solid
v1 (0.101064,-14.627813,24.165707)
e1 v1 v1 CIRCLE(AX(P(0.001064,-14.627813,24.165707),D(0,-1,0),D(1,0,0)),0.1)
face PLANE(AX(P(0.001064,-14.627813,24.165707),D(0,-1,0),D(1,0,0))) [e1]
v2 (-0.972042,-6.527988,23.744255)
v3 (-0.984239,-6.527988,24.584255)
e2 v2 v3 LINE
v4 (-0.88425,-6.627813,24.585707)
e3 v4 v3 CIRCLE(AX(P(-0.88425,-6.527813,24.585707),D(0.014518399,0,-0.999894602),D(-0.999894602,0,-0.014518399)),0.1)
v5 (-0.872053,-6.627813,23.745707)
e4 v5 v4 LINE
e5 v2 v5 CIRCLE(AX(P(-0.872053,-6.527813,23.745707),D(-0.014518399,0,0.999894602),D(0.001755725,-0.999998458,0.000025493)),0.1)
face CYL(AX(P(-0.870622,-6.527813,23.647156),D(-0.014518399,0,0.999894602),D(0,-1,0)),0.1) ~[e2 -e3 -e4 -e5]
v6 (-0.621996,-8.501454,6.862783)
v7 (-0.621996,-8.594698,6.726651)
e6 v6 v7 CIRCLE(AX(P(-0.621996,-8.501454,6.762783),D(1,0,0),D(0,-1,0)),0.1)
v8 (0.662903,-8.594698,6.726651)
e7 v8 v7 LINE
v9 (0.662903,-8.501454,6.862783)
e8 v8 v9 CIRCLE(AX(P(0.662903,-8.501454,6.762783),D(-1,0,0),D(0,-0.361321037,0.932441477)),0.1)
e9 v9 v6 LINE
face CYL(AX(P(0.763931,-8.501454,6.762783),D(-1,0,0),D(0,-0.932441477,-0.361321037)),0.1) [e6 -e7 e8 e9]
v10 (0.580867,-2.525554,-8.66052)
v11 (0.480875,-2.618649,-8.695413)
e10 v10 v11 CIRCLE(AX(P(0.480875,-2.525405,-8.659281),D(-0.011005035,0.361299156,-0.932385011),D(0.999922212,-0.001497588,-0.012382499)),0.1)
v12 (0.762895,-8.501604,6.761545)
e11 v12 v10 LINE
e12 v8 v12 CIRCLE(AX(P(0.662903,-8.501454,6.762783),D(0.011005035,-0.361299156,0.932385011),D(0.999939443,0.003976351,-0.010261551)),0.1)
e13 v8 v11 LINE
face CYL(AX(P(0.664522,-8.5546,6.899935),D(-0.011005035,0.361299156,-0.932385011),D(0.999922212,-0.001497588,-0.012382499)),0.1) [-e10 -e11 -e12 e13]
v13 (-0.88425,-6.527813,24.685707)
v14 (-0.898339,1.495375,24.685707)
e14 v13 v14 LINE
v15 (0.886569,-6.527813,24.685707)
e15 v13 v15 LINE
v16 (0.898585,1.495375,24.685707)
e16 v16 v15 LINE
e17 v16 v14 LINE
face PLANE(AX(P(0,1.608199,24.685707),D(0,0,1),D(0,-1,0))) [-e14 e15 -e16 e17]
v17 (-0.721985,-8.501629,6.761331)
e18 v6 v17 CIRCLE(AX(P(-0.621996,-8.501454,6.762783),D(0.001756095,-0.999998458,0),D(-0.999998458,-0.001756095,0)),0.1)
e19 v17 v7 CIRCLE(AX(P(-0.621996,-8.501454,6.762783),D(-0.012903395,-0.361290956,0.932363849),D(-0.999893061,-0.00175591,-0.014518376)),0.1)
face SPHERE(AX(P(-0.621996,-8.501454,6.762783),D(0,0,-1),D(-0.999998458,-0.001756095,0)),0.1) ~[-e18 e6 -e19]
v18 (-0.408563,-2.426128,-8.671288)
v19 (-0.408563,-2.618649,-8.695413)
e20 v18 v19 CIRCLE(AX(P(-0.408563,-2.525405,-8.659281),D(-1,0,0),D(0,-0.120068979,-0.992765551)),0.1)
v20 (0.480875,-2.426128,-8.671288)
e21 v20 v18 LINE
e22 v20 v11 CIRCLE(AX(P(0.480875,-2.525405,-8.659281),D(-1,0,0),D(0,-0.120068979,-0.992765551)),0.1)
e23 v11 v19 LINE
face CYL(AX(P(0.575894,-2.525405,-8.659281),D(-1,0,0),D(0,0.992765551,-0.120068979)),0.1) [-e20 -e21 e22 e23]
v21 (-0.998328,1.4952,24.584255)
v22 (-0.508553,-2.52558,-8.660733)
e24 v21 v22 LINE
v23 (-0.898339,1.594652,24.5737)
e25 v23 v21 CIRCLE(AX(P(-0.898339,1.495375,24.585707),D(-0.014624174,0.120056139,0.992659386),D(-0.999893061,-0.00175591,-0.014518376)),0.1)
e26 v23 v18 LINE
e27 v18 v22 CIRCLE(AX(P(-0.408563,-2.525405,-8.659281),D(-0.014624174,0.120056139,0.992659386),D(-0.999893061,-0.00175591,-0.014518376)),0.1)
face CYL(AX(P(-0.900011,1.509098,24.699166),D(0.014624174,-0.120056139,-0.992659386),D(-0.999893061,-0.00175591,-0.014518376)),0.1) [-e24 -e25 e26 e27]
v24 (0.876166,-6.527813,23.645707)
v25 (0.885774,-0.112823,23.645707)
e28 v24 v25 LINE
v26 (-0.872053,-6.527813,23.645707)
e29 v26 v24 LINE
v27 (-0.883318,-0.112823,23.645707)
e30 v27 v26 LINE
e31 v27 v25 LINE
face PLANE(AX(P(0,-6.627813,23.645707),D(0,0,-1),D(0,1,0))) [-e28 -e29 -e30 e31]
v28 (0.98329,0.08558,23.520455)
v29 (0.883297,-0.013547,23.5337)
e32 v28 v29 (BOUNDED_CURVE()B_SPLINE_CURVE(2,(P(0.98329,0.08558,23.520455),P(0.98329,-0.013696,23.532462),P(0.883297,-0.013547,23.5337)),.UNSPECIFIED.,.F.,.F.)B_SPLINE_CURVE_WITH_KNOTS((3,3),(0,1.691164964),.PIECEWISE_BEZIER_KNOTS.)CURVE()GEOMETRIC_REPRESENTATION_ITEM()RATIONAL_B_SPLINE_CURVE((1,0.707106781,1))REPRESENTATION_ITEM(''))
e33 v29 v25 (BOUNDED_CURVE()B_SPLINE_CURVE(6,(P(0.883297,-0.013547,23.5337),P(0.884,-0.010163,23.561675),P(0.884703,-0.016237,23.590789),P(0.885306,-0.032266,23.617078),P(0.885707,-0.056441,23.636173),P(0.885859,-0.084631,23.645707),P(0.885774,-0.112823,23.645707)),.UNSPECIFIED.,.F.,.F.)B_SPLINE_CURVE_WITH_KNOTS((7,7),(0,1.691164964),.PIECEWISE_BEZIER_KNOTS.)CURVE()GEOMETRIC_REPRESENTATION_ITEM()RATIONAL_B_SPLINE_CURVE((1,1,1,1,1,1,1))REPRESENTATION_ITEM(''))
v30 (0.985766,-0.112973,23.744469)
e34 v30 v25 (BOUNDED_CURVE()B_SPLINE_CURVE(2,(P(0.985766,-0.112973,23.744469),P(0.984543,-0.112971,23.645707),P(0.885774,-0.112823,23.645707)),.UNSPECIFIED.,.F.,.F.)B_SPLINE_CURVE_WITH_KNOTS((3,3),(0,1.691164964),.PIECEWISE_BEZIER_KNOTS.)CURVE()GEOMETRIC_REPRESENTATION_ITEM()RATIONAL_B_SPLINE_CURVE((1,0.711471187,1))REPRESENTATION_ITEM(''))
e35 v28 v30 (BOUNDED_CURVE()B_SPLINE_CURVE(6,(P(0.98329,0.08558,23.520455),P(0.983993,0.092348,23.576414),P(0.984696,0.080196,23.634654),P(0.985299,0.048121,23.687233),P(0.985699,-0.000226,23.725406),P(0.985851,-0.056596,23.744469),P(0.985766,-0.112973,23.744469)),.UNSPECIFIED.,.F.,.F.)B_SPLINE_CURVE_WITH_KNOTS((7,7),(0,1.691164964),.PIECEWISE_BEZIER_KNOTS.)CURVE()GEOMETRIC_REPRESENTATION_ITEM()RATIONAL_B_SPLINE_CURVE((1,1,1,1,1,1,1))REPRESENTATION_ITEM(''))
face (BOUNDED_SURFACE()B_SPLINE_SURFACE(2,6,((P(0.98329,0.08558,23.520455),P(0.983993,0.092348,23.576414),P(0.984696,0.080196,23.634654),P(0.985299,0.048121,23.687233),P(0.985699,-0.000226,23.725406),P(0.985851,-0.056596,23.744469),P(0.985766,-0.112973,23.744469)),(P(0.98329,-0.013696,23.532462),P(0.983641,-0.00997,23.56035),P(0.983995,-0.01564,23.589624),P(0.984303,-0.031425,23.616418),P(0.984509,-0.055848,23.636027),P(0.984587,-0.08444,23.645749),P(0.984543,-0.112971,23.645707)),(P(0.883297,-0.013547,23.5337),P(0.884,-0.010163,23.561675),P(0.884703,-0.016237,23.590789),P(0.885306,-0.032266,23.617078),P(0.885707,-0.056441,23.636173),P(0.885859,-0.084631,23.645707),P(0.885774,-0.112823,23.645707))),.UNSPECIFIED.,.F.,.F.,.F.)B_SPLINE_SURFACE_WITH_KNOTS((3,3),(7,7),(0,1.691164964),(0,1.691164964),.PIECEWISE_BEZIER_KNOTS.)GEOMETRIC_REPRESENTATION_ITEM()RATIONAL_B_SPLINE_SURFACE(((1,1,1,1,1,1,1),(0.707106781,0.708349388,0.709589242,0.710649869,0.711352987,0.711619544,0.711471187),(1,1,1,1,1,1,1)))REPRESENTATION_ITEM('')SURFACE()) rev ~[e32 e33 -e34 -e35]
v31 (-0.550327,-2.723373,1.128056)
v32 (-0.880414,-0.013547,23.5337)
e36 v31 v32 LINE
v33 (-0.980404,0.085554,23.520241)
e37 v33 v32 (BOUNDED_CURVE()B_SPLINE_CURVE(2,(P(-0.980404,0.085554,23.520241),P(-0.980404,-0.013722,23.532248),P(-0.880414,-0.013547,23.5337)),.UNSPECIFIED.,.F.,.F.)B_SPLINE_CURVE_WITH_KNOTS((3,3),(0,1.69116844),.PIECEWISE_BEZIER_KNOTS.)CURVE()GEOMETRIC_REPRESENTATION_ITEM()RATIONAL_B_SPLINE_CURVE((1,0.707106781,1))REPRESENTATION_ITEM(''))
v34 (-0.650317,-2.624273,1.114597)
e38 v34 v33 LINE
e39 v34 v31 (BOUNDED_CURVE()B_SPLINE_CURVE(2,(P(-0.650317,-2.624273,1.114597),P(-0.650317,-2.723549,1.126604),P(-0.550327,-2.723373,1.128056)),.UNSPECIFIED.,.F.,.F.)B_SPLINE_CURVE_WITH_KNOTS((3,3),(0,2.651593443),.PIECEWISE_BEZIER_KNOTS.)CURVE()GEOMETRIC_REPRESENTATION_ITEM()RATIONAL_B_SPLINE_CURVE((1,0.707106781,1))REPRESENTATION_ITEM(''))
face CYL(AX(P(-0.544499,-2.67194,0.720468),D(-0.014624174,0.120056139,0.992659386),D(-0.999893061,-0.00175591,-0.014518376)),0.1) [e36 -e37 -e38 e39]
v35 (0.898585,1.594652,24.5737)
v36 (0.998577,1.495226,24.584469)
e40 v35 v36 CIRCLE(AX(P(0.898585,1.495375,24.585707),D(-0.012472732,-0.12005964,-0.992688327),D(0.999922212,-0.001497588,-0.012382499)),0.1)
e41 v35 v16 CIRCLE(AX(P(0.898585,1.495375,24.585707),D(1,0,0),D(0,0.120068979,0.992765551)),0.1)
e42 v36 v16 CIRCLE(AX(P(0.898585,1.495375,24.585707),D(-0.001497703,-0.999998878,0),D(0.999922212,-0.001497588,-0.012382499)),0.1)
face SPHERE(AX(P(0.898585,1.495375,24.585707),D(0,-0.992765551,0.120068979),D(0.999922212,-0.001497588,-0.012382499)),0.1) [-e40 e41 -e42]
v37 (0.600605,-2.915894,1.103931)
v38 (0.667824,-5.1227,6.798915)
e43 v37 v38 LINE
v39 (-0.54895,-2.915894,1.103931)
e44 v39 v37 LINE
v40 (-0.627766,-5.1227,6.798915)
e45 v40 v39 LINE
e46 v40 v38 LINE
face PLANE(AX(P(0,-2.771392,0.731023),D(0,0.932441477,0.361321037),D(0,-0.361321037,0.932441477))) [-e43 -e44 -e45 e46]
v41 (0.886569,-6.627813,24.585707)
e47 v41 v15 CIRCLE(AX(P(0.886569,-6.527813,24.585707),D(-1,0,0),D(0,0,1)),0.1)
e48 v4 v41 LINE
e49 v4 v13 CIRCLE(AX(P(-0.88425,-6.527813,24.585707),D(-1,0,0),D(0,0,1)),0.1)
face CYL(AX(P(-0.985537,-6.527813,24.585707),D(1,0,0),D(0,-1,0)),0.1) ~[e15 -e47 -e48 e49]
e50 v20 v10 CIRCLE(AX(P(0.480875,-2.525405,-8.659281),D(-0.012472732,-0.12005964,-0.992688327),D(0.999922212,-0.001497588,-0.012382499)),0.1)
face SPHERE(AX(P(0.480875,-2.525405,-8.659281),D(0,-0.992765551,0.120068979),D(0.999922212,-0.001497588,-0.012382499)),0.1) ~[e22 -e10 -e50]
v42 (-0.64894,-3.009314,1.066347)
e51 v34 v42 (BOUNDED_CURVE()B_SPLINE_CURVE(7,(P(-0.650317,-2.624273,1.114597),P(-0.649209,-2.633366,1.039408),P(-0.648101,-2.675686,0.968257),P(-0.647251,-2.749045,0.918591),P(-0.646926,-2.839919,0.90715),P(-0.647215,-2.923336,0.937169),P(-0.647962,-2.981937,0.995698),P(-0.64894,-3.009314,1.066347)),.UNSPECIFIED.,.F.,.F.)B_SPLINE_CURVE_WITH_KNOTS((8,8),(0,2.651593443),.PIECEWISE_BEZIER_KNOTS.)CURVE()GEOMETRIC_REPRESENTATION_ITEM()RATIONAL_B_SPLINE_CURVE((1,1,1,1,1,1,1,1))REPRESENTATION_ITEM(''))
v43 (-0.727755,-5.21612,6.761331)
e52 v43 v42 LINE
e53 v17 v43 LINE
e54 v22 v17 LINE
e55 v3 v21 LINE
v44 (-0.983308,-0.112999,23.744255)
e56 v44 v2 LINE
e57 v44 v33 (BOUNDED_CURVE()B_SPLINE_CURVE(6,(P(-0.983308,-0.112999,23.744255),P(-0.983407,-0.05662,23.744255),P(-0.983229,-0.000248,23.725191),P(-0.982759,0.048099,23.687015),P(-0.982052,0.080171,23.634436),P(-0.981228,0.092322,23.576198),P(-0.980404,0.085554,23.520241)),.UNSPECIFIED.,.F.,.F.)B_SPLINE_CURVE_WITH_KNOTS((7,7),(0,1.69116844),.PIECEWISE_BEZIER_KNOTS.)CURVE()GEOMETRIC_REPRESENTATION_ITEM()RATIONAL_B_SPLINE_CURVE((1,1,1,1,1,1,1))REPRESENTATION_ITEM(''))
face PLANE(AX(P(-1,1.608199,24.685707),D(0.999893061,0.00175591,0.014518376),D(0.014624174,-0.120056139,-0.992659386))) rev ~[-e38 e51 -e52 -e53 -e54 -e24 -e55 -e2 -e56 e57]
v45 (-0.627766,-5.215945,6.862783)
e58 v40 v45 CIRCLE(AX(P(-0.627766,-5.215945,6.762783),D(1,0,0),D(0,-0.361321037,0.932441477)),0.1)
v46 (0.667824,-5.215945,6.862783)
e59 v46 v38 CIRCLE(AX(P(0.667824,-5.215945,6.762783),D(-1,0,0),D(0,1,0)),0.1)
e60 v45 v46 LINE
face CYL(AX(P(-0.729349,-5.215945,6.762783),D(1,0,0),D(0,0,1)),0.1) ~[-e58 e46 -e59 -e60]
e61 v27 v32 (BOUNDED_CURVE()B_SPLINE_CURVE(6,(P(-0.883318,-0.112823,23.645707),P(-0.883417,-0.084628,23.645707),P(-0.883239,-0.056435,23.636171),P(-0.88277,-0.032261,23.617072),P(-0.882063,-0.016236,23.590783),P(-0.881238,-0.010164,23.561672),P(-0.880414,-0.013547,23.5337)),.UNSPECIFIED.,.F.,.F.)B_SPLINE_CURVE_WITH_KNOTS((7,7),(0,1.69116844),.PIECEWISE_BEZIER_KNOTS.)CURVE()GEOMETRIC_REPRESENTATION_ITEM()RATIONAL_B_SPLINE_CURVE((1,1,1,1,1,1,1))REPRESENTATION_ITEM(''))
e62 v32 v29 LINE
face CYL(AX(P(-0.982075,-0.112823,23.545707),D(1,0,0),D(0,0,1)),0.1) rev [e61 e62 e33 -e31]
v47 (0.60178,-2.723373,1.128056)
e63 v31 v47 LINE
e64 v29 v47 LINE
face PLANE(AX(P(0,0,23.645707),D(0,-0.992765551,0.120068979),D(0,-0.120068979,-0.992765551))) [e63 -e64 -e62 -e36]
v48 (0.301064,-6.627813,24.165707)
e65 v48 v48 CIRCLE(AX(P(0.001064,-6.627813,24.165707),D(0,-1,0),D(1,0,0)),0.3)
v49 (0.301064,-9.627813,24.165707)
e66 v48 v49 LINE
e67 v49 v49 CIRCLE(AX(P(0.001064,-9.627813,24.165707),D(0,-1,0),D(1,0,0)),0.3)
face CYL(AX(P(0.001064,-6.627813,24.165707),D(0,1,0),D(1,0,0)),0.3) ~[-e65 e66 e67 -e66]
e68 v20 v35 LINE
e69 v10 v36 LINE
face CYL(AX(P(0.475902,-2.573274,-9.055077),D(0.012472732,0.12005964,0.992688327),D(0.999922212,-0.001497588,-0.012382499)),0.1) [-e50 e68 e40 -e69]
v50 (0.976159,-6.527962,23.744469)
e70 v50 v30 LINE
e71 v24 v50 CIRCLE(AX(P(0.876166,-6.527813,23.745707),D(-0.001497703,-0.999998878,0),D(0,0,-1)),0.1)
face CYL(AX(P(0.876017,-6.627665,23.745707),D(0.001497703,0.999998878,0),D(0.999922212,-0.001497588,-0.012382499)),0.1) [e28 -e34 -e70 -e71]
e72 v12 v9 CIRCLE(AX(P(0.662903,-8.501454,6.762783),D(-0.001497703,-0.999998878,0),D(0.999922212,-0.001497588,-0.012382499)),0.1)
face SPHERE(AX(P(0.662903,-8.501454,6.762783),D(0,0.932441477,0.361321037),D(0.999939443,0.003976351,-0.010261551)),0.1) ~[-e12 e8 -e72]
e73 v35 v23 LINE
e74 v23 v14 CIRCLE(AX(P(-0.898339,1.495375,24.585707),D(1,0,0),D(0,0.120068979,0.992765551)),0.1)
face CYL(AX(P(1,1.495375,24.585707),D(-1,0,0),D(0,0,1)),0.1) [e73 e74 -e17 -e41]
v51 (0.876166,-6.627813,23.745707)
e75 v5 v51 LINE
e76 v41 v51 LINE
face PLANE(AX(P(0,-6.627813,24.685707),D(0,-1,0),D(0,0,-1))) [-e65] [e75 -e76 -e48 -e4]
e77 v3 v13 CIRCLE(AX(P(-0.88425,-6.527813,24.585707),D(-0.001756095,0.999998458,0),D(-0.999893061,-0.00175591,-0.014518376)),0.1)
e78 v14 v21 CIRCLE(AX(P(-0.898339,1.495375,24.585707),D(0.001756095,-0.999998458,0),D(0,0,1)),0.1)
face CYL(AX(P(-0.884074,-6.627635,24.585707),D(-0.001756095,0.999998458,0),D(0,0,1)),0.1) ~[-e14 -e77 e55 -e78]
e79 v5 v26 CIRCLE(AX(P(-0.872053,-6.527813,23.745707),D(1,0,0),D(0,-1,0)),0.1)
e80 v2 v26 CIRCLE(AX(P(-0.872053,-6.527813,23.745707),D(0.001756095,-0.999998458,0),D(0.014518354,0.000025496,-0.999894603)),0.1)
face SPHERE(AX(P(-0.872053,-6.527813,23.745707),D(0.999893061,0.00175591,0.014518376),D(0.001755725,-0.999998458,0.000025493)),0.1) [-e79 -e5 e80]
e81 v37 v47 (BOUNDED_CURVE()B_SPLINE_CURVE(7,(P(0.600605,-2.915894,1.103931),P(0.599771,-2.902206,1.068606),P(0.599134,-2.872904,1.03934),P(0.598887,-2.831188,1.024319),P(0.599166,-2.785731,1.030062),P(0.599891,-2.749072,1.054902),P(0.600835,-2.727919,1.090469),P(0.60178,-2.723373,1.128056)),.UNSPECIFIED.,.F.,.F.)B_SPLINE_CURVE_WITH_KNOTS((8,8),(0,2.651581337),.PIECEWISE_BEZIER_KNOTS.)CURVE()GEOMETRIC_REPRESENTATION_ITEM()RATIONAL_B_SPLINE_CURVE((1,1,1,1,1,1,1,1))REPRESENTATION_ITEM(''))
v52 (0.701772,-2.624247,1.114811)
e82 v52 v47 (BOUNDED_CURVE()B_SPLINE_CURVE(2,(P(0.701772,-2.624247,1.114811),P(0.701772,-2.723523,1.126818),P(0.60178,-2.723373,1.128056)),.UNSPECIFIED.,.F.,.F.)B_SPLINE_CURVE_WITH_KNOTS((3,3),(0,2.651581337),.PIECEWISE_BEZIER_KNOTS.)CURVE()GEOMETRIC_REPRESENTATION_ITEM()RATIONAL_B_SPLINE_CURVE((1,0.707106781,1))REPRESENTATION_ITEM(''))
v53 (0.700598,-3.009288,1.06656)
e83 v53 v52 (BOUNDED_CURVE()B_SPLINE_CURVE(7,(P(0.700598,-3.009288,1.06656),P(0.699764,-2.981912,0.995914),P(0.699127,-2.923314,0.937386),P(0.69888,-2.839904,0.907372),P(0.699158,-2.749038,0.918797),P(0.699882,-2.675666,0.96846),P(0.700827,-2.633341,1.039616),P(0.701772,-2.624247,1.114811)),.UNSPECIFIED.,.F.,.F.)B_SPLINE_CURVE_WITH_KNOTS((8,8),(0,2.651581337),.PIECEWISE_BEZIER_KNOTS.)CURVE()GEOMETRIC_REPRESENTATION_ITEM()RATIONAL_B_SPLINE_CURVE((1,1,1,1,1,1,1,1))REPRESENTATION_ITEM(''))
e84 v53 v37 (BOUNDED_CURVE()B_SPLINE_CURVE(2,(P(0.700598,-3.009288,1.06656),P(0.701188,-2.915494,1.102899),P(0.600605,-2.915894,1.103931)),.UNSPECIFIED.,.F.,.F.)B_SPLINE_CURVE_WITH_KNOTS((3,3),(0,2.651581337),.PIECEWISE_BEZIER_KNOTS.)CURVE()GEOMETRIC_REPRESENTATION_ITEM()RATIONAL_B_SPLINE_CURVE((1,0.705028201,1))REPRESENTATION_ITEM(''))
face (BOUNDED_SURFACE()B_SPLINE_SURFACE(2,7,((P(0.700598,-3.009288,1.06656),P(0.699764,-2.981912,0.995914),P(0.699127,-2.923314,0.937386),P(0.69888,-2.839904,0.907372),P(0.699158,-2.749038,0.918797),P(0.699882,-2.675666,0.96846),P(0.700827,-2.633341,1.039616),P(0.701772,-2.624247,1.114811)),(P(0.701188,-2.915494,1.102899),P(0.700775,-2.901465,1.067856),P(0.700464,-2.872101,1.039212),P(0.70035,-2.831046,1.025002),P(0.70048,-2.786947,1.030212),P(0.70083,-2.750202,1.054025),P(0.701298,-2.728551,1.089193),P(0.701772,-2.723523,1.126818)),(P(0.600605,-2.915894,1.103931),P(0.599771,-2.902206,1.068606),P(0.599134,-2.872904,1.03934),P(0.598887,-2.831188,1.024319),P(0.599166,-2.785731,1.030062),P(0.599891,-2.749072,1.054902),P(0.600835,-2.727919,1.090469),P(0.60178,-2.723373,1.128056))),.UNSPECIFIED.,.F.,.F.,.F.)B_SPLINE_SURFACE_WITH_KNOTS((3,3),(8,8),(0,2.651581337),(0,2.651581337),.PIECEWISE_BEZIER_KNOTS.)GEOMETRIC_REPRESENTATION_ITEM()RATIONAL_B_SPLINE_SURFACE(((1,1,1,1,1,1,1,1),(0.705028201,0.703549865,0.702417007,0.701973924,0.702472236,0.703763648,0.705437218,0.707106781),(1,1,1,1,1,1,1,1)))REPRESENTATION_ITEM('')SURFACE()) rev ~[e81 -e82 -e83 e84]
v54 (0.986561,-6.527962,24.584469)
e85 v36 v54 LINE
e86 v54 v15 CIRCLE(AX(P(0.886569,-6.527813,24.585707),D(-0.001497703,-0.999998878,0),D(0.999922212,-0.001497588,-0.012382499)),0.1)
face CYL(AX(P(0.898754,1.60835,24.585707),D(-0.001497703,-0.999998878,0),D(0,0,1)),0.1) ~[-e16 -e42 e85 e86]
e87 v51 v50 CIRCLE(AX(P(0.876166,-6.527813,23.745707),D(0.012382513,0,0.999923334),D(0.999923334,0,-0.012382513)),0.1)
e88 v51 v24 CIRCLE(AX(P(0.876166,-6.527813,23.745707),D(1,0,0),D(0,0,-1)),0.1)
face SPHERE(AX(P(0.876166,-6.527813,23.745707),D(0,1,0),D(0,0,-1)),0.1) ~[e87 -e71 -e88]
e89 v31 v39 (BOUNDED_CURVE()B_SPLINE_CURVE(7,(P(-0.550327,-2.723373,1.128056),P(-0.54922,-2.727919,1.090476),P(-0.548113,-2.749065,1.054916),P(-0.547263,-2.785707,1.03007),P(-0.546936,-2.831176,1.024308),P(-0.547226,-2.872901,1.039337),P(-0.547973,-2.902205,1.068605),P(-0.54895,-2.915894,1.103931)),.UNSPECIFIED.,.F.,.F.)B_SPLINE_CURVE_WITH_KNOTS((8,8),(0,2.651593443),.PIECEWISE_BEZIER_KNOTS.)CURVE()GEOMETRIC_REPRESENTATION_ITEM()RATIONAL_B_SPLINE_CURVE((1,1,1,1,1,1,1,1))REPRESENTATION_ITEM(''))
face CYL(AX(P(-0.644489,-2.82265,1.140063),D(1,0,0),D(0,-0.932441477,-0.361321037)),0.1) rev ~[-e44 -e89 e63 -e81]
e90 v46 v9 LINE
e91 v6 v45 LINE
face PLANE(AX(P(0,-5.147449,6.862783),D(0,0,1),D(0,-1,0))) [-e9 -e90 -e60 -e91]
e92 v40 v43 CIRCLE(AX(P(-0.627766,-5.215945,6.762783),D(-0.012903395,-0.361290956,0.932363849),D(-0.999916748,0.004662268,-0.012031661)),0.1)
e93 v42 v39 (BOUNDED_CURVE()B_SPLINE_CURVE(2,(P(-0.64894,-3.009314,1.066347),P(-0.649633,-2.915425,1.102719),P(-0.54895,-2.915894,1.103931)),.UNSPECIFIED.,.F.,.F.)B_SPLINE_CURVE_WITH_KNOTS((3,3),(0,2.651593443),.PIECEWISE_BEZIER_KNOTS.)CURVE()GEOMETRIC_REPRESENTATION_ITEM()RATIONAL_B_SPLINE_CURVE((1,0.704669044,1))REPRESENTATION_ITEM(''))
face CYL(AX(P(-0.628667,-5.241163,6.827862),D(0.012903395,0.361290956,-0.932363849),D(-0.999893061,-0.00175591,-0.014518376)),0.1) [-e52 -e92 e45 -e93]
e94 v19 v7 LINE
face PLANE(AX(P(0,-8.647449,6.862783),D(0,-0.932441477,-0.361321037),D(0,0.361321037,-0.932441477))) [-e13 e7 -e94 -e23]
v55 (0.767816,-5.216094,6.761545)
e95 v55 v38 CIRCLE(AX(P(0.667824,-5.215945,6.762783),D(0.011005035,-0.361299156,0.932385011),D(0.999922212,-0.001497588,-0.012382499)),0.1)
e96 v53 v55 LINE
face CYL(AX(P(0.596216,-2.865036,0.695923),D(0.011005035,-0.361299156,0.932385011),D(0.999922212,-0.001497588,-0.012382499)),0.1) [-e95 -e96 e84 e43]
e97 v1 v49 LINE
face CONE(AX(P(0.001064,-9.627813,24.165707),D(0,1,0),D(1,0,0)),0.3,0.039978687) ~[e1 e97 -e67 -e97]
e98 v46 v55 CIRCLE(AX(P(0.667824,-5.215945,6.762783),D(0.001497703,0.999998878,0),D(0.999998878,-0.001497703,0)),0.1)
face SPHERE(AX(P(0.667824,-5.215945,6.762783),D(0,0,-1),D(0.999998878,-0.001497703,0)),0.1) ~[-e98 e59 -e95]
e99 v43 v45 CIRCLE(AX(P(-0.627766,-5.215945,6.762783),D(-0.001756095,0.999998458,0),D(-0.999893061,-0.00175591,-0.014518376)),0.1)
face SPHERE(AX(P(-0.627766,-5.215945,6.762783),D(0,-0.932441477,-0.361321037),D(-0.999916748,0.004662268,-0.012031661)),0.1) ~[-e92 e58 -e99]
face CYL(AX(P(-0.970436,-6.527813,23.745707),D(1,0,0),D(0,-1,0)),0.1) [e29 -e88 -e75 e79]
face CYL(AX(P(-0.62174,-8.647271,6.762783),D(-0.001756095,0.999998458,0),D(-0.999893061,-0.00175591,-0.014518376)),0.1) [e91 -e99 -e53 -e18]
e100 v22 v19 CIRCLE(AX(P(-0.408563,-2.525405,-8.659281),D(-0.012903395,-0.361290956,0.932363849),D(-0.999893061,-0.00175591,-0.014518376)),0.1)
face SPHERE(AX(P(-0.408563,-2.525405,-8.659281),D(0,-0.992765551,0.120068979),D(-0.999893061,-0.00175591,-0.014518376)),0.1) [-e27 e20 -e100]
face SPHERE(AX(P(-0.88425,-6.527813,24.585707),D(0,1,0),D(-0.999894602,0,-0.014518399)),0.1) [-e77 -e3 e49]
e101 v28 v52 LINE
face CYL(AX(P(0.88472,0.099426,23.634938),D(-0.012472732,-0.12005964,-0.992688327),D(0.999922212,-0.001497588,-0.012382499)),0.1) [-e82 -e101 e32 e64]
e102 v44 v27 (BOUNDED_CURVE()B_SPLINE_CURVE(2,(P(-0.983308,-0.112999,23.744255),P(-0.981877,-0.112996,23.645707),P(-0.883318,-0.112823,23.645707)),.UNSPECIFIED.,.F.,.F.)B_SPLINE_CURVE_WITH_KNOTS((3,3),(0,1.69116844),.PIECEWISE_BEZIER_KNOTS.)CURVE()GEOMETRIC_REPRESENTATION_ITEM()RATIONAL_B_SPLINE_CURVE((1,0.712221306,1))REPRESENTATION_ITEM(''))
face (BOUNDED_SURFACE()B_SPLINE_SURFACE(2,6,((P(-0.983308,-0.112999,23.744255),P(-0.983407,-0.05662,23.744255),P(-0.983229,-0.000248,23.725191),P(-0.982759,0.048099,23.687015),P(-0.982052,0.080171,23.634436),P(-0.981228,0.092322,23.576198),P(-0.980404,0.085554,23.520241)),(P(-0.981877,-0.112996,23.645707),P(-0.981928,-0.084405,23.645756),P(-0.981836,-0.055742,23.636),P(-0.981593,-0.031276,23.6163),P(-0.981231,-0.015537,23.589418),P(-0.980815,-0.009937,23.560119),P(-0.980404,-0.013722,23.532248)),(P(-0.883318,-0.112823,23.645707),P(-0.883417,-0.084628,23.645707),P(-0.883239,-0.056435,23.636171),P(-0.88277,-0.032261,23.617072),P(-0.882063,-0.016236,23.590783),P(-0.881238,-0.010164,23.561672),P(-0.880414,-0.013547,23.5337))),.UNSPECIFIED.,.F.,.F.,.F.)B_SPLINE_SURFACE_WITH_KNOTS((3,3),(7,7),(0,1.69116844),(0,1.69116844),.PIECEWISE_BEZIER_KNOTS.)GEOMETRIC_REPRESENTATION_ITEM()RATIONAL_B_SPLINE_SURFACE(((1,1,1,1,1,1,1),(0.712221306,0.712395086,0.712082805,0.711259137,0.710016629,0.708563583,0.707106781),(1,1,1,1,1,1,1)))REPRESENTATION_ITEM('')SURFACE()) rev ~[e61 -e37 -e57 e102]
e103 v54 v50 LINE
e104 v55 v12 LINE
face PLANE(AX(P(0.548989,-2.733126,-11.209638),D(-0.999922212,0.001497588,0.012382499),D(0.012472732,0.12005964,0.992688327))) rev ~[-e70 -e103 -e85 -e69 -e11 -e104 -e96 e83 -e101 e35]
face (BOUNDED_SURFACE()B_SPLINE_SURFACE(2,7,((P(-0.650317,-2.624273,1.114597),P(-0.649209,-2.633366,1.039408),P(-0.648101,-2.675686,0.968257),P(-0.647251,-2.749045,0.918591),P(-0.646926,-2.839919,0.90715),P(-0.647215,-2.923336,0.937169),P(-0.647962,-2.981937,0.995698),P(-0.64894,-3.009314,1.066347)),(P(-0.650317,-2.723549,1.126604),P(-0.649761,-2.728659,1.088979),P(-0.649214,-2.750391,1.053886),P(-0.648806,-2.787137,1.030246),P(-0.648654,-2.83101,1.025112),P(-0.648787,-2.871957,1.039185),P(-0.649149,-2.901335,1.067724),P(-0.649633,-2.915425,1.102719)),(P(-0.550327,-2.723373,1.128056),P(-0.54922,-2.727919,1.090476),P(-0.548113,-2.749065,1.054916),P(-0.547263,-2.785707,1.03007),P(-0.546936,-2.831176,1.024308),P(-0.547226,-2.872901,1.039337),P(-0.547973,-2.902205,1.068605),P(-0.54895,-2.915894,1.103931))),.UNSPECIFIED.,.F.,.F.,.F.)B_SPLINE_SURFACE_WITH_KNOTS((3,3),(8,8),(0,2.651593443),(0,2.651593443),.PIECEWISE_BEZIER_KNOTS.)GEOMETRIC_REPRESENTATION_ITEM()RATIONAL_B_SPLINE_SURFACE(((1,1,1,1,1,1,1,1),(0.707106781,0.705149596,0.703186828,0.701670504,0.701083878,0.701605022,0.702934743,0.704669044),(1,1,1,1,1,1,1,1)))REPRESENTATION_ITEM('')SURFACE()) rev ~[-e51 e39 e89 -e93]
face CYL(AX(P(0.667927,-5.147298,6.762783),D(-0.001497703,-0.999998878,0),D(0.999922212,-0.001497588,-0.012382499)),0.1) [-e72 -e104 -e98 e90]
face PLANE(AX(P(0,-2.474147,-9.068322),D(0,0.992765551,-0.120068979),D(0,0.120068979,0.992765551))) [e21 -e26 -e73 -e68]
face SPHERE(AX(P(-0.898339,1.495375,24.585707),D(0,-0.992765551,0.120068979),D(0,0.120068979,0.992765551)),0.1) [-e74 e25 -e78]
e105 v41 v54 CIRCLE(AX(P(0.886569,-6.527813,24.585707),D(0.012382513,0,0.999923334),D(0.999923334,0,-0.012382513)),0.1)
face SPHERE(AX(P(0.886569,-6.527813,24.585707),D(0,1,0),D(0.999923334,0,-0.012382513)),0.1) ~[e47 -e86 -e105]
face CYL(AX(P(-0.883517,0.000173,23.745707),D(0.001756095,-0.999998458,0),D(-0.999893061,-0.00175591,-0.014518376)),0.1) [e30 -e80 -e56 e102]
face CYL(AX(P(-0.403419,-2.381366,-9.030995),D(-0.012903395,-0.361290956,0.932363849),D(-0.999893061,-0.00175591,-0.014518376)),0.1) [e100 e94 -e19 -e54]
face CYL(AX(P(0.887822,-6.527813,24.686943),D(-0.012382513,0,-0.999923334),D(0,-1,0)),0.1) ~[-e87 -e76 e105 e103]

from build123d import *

# Parameters (mm, degrees)
F1_DEPTH = 1
F3_DEPTH = 12.5
F4_R     = 0.3
F5_DEPTH = 8
F6_SIZE2 = 5
F6_SIZE  = 0.2
F7_R     = 0.1


with BuildPart() as f1:
    # F0 (on Right) → F1 (new body, symmetric)
    with BuildSketch(Plane.YZ):
        Polygon((1.6081985701, 24.68570705), (-6.6278126925, 24.68570705), (-6.6278126925, 23.64570705), (0, 23.64570705), (-2.7713922732, 0.7310225915), (-5.147449191, 6.8627829807), (-8.647449191, 6.8627829807), (-2.4741467328, -9.0683216995), align=None)
    extrude(amount=F1_DEPTH, both=True)

    # F2 (on face) → F3 (cut, symmetric)
    with BuildSketch(Plane(origin=(0, -1.3575309583, 0.1641851458), x_dir=(-1, 0, 0), z_dir=(0, 0.9927655515, -0.1200689795))):
        Polygon((-0.5489893374, -11.4567056298), (-1, 24.7002143338), (-8.0727264285, 24.7002143338), (-7.1800793521, -14.4110620022), (7.0385080762, -14.4110620022), (7.0385080762, 24.0597836673), (1, 24.7002143338), (0.4711783549, -11.4567056298), align=None)
    extrude(amount=F3_DEPTH, both=True, mode=Mode.SUBTRACT)

    # F4 (on face) → F5 (join)
    with BuildSketch(Plane.XZ.offset(6.6278126925)):
        with Locations((0.0010640627, 24.16570705)):
            Circle(F4_R)
    extrude(amount=F5_DEPTH)

    # F6
    f6_edges = [f1.edges().sort_by_distance(p)[0] for p in [
        (-0.298936, -14.627813, 24.165707),
    ]]
    f6_side = f1.faces().sort_by_distance((0.001064, -14.627813, 24.165707))[0]
    chamfer(f6_edges, length=F6_SIZE, length2=F6_SIZE2, reference=f6_side)

    # F7
    f7_edges = [f1.edges().sort_by_distance(p)[0] for p in [
        (0.732986, -3.959421, 3.796903),
        (-0.992768, -2.509807, 24.685707),
        (-0.813282, -1.385696, 12.188365),
        (0.766552, -6.897449, 6.862783),
        (0.993832, -2.509807, 24.685707),
        (-0.612964, -5.560798, -1.102769),
        (0.840756, -1.385696, 12.188365),
        (0.979749, -3.313906, 23.645707),
        (0.669912, -5.560798, -1.102769),
        (0.787947, -0.432974, 7.808693),
        (-0.726276, -6.897449, 6.862783),
        (0, 1.608199, 24.685707),
        (-0.298936, -9.627813, 24.165707),
        (-0.751362, -0.432974, 7.808693),
        (-0.686919, -3.959421, 3.796903),
        (0.002175, -6.627813, 23.645707),
        (0.981225, -6.627813, 24.165707),
        (0.001319, 0, 23.645707),
        (0.026155, -2.771392, 0.731023),
        (-0.977986, -6.627813, 24.165707),
        (0.020364, -8.647449, 6.862783),
        (0.036585, -2.474147, -9.068322),
        (0.019912, -5.147449, 6.862783),
        (0.001064, -6.627813, 24.685707),
        (-0.976256, -3.313906, 23.645707),
    ]]
    fillet(f7_edges, radius=F7_R)


solid = f1.part
